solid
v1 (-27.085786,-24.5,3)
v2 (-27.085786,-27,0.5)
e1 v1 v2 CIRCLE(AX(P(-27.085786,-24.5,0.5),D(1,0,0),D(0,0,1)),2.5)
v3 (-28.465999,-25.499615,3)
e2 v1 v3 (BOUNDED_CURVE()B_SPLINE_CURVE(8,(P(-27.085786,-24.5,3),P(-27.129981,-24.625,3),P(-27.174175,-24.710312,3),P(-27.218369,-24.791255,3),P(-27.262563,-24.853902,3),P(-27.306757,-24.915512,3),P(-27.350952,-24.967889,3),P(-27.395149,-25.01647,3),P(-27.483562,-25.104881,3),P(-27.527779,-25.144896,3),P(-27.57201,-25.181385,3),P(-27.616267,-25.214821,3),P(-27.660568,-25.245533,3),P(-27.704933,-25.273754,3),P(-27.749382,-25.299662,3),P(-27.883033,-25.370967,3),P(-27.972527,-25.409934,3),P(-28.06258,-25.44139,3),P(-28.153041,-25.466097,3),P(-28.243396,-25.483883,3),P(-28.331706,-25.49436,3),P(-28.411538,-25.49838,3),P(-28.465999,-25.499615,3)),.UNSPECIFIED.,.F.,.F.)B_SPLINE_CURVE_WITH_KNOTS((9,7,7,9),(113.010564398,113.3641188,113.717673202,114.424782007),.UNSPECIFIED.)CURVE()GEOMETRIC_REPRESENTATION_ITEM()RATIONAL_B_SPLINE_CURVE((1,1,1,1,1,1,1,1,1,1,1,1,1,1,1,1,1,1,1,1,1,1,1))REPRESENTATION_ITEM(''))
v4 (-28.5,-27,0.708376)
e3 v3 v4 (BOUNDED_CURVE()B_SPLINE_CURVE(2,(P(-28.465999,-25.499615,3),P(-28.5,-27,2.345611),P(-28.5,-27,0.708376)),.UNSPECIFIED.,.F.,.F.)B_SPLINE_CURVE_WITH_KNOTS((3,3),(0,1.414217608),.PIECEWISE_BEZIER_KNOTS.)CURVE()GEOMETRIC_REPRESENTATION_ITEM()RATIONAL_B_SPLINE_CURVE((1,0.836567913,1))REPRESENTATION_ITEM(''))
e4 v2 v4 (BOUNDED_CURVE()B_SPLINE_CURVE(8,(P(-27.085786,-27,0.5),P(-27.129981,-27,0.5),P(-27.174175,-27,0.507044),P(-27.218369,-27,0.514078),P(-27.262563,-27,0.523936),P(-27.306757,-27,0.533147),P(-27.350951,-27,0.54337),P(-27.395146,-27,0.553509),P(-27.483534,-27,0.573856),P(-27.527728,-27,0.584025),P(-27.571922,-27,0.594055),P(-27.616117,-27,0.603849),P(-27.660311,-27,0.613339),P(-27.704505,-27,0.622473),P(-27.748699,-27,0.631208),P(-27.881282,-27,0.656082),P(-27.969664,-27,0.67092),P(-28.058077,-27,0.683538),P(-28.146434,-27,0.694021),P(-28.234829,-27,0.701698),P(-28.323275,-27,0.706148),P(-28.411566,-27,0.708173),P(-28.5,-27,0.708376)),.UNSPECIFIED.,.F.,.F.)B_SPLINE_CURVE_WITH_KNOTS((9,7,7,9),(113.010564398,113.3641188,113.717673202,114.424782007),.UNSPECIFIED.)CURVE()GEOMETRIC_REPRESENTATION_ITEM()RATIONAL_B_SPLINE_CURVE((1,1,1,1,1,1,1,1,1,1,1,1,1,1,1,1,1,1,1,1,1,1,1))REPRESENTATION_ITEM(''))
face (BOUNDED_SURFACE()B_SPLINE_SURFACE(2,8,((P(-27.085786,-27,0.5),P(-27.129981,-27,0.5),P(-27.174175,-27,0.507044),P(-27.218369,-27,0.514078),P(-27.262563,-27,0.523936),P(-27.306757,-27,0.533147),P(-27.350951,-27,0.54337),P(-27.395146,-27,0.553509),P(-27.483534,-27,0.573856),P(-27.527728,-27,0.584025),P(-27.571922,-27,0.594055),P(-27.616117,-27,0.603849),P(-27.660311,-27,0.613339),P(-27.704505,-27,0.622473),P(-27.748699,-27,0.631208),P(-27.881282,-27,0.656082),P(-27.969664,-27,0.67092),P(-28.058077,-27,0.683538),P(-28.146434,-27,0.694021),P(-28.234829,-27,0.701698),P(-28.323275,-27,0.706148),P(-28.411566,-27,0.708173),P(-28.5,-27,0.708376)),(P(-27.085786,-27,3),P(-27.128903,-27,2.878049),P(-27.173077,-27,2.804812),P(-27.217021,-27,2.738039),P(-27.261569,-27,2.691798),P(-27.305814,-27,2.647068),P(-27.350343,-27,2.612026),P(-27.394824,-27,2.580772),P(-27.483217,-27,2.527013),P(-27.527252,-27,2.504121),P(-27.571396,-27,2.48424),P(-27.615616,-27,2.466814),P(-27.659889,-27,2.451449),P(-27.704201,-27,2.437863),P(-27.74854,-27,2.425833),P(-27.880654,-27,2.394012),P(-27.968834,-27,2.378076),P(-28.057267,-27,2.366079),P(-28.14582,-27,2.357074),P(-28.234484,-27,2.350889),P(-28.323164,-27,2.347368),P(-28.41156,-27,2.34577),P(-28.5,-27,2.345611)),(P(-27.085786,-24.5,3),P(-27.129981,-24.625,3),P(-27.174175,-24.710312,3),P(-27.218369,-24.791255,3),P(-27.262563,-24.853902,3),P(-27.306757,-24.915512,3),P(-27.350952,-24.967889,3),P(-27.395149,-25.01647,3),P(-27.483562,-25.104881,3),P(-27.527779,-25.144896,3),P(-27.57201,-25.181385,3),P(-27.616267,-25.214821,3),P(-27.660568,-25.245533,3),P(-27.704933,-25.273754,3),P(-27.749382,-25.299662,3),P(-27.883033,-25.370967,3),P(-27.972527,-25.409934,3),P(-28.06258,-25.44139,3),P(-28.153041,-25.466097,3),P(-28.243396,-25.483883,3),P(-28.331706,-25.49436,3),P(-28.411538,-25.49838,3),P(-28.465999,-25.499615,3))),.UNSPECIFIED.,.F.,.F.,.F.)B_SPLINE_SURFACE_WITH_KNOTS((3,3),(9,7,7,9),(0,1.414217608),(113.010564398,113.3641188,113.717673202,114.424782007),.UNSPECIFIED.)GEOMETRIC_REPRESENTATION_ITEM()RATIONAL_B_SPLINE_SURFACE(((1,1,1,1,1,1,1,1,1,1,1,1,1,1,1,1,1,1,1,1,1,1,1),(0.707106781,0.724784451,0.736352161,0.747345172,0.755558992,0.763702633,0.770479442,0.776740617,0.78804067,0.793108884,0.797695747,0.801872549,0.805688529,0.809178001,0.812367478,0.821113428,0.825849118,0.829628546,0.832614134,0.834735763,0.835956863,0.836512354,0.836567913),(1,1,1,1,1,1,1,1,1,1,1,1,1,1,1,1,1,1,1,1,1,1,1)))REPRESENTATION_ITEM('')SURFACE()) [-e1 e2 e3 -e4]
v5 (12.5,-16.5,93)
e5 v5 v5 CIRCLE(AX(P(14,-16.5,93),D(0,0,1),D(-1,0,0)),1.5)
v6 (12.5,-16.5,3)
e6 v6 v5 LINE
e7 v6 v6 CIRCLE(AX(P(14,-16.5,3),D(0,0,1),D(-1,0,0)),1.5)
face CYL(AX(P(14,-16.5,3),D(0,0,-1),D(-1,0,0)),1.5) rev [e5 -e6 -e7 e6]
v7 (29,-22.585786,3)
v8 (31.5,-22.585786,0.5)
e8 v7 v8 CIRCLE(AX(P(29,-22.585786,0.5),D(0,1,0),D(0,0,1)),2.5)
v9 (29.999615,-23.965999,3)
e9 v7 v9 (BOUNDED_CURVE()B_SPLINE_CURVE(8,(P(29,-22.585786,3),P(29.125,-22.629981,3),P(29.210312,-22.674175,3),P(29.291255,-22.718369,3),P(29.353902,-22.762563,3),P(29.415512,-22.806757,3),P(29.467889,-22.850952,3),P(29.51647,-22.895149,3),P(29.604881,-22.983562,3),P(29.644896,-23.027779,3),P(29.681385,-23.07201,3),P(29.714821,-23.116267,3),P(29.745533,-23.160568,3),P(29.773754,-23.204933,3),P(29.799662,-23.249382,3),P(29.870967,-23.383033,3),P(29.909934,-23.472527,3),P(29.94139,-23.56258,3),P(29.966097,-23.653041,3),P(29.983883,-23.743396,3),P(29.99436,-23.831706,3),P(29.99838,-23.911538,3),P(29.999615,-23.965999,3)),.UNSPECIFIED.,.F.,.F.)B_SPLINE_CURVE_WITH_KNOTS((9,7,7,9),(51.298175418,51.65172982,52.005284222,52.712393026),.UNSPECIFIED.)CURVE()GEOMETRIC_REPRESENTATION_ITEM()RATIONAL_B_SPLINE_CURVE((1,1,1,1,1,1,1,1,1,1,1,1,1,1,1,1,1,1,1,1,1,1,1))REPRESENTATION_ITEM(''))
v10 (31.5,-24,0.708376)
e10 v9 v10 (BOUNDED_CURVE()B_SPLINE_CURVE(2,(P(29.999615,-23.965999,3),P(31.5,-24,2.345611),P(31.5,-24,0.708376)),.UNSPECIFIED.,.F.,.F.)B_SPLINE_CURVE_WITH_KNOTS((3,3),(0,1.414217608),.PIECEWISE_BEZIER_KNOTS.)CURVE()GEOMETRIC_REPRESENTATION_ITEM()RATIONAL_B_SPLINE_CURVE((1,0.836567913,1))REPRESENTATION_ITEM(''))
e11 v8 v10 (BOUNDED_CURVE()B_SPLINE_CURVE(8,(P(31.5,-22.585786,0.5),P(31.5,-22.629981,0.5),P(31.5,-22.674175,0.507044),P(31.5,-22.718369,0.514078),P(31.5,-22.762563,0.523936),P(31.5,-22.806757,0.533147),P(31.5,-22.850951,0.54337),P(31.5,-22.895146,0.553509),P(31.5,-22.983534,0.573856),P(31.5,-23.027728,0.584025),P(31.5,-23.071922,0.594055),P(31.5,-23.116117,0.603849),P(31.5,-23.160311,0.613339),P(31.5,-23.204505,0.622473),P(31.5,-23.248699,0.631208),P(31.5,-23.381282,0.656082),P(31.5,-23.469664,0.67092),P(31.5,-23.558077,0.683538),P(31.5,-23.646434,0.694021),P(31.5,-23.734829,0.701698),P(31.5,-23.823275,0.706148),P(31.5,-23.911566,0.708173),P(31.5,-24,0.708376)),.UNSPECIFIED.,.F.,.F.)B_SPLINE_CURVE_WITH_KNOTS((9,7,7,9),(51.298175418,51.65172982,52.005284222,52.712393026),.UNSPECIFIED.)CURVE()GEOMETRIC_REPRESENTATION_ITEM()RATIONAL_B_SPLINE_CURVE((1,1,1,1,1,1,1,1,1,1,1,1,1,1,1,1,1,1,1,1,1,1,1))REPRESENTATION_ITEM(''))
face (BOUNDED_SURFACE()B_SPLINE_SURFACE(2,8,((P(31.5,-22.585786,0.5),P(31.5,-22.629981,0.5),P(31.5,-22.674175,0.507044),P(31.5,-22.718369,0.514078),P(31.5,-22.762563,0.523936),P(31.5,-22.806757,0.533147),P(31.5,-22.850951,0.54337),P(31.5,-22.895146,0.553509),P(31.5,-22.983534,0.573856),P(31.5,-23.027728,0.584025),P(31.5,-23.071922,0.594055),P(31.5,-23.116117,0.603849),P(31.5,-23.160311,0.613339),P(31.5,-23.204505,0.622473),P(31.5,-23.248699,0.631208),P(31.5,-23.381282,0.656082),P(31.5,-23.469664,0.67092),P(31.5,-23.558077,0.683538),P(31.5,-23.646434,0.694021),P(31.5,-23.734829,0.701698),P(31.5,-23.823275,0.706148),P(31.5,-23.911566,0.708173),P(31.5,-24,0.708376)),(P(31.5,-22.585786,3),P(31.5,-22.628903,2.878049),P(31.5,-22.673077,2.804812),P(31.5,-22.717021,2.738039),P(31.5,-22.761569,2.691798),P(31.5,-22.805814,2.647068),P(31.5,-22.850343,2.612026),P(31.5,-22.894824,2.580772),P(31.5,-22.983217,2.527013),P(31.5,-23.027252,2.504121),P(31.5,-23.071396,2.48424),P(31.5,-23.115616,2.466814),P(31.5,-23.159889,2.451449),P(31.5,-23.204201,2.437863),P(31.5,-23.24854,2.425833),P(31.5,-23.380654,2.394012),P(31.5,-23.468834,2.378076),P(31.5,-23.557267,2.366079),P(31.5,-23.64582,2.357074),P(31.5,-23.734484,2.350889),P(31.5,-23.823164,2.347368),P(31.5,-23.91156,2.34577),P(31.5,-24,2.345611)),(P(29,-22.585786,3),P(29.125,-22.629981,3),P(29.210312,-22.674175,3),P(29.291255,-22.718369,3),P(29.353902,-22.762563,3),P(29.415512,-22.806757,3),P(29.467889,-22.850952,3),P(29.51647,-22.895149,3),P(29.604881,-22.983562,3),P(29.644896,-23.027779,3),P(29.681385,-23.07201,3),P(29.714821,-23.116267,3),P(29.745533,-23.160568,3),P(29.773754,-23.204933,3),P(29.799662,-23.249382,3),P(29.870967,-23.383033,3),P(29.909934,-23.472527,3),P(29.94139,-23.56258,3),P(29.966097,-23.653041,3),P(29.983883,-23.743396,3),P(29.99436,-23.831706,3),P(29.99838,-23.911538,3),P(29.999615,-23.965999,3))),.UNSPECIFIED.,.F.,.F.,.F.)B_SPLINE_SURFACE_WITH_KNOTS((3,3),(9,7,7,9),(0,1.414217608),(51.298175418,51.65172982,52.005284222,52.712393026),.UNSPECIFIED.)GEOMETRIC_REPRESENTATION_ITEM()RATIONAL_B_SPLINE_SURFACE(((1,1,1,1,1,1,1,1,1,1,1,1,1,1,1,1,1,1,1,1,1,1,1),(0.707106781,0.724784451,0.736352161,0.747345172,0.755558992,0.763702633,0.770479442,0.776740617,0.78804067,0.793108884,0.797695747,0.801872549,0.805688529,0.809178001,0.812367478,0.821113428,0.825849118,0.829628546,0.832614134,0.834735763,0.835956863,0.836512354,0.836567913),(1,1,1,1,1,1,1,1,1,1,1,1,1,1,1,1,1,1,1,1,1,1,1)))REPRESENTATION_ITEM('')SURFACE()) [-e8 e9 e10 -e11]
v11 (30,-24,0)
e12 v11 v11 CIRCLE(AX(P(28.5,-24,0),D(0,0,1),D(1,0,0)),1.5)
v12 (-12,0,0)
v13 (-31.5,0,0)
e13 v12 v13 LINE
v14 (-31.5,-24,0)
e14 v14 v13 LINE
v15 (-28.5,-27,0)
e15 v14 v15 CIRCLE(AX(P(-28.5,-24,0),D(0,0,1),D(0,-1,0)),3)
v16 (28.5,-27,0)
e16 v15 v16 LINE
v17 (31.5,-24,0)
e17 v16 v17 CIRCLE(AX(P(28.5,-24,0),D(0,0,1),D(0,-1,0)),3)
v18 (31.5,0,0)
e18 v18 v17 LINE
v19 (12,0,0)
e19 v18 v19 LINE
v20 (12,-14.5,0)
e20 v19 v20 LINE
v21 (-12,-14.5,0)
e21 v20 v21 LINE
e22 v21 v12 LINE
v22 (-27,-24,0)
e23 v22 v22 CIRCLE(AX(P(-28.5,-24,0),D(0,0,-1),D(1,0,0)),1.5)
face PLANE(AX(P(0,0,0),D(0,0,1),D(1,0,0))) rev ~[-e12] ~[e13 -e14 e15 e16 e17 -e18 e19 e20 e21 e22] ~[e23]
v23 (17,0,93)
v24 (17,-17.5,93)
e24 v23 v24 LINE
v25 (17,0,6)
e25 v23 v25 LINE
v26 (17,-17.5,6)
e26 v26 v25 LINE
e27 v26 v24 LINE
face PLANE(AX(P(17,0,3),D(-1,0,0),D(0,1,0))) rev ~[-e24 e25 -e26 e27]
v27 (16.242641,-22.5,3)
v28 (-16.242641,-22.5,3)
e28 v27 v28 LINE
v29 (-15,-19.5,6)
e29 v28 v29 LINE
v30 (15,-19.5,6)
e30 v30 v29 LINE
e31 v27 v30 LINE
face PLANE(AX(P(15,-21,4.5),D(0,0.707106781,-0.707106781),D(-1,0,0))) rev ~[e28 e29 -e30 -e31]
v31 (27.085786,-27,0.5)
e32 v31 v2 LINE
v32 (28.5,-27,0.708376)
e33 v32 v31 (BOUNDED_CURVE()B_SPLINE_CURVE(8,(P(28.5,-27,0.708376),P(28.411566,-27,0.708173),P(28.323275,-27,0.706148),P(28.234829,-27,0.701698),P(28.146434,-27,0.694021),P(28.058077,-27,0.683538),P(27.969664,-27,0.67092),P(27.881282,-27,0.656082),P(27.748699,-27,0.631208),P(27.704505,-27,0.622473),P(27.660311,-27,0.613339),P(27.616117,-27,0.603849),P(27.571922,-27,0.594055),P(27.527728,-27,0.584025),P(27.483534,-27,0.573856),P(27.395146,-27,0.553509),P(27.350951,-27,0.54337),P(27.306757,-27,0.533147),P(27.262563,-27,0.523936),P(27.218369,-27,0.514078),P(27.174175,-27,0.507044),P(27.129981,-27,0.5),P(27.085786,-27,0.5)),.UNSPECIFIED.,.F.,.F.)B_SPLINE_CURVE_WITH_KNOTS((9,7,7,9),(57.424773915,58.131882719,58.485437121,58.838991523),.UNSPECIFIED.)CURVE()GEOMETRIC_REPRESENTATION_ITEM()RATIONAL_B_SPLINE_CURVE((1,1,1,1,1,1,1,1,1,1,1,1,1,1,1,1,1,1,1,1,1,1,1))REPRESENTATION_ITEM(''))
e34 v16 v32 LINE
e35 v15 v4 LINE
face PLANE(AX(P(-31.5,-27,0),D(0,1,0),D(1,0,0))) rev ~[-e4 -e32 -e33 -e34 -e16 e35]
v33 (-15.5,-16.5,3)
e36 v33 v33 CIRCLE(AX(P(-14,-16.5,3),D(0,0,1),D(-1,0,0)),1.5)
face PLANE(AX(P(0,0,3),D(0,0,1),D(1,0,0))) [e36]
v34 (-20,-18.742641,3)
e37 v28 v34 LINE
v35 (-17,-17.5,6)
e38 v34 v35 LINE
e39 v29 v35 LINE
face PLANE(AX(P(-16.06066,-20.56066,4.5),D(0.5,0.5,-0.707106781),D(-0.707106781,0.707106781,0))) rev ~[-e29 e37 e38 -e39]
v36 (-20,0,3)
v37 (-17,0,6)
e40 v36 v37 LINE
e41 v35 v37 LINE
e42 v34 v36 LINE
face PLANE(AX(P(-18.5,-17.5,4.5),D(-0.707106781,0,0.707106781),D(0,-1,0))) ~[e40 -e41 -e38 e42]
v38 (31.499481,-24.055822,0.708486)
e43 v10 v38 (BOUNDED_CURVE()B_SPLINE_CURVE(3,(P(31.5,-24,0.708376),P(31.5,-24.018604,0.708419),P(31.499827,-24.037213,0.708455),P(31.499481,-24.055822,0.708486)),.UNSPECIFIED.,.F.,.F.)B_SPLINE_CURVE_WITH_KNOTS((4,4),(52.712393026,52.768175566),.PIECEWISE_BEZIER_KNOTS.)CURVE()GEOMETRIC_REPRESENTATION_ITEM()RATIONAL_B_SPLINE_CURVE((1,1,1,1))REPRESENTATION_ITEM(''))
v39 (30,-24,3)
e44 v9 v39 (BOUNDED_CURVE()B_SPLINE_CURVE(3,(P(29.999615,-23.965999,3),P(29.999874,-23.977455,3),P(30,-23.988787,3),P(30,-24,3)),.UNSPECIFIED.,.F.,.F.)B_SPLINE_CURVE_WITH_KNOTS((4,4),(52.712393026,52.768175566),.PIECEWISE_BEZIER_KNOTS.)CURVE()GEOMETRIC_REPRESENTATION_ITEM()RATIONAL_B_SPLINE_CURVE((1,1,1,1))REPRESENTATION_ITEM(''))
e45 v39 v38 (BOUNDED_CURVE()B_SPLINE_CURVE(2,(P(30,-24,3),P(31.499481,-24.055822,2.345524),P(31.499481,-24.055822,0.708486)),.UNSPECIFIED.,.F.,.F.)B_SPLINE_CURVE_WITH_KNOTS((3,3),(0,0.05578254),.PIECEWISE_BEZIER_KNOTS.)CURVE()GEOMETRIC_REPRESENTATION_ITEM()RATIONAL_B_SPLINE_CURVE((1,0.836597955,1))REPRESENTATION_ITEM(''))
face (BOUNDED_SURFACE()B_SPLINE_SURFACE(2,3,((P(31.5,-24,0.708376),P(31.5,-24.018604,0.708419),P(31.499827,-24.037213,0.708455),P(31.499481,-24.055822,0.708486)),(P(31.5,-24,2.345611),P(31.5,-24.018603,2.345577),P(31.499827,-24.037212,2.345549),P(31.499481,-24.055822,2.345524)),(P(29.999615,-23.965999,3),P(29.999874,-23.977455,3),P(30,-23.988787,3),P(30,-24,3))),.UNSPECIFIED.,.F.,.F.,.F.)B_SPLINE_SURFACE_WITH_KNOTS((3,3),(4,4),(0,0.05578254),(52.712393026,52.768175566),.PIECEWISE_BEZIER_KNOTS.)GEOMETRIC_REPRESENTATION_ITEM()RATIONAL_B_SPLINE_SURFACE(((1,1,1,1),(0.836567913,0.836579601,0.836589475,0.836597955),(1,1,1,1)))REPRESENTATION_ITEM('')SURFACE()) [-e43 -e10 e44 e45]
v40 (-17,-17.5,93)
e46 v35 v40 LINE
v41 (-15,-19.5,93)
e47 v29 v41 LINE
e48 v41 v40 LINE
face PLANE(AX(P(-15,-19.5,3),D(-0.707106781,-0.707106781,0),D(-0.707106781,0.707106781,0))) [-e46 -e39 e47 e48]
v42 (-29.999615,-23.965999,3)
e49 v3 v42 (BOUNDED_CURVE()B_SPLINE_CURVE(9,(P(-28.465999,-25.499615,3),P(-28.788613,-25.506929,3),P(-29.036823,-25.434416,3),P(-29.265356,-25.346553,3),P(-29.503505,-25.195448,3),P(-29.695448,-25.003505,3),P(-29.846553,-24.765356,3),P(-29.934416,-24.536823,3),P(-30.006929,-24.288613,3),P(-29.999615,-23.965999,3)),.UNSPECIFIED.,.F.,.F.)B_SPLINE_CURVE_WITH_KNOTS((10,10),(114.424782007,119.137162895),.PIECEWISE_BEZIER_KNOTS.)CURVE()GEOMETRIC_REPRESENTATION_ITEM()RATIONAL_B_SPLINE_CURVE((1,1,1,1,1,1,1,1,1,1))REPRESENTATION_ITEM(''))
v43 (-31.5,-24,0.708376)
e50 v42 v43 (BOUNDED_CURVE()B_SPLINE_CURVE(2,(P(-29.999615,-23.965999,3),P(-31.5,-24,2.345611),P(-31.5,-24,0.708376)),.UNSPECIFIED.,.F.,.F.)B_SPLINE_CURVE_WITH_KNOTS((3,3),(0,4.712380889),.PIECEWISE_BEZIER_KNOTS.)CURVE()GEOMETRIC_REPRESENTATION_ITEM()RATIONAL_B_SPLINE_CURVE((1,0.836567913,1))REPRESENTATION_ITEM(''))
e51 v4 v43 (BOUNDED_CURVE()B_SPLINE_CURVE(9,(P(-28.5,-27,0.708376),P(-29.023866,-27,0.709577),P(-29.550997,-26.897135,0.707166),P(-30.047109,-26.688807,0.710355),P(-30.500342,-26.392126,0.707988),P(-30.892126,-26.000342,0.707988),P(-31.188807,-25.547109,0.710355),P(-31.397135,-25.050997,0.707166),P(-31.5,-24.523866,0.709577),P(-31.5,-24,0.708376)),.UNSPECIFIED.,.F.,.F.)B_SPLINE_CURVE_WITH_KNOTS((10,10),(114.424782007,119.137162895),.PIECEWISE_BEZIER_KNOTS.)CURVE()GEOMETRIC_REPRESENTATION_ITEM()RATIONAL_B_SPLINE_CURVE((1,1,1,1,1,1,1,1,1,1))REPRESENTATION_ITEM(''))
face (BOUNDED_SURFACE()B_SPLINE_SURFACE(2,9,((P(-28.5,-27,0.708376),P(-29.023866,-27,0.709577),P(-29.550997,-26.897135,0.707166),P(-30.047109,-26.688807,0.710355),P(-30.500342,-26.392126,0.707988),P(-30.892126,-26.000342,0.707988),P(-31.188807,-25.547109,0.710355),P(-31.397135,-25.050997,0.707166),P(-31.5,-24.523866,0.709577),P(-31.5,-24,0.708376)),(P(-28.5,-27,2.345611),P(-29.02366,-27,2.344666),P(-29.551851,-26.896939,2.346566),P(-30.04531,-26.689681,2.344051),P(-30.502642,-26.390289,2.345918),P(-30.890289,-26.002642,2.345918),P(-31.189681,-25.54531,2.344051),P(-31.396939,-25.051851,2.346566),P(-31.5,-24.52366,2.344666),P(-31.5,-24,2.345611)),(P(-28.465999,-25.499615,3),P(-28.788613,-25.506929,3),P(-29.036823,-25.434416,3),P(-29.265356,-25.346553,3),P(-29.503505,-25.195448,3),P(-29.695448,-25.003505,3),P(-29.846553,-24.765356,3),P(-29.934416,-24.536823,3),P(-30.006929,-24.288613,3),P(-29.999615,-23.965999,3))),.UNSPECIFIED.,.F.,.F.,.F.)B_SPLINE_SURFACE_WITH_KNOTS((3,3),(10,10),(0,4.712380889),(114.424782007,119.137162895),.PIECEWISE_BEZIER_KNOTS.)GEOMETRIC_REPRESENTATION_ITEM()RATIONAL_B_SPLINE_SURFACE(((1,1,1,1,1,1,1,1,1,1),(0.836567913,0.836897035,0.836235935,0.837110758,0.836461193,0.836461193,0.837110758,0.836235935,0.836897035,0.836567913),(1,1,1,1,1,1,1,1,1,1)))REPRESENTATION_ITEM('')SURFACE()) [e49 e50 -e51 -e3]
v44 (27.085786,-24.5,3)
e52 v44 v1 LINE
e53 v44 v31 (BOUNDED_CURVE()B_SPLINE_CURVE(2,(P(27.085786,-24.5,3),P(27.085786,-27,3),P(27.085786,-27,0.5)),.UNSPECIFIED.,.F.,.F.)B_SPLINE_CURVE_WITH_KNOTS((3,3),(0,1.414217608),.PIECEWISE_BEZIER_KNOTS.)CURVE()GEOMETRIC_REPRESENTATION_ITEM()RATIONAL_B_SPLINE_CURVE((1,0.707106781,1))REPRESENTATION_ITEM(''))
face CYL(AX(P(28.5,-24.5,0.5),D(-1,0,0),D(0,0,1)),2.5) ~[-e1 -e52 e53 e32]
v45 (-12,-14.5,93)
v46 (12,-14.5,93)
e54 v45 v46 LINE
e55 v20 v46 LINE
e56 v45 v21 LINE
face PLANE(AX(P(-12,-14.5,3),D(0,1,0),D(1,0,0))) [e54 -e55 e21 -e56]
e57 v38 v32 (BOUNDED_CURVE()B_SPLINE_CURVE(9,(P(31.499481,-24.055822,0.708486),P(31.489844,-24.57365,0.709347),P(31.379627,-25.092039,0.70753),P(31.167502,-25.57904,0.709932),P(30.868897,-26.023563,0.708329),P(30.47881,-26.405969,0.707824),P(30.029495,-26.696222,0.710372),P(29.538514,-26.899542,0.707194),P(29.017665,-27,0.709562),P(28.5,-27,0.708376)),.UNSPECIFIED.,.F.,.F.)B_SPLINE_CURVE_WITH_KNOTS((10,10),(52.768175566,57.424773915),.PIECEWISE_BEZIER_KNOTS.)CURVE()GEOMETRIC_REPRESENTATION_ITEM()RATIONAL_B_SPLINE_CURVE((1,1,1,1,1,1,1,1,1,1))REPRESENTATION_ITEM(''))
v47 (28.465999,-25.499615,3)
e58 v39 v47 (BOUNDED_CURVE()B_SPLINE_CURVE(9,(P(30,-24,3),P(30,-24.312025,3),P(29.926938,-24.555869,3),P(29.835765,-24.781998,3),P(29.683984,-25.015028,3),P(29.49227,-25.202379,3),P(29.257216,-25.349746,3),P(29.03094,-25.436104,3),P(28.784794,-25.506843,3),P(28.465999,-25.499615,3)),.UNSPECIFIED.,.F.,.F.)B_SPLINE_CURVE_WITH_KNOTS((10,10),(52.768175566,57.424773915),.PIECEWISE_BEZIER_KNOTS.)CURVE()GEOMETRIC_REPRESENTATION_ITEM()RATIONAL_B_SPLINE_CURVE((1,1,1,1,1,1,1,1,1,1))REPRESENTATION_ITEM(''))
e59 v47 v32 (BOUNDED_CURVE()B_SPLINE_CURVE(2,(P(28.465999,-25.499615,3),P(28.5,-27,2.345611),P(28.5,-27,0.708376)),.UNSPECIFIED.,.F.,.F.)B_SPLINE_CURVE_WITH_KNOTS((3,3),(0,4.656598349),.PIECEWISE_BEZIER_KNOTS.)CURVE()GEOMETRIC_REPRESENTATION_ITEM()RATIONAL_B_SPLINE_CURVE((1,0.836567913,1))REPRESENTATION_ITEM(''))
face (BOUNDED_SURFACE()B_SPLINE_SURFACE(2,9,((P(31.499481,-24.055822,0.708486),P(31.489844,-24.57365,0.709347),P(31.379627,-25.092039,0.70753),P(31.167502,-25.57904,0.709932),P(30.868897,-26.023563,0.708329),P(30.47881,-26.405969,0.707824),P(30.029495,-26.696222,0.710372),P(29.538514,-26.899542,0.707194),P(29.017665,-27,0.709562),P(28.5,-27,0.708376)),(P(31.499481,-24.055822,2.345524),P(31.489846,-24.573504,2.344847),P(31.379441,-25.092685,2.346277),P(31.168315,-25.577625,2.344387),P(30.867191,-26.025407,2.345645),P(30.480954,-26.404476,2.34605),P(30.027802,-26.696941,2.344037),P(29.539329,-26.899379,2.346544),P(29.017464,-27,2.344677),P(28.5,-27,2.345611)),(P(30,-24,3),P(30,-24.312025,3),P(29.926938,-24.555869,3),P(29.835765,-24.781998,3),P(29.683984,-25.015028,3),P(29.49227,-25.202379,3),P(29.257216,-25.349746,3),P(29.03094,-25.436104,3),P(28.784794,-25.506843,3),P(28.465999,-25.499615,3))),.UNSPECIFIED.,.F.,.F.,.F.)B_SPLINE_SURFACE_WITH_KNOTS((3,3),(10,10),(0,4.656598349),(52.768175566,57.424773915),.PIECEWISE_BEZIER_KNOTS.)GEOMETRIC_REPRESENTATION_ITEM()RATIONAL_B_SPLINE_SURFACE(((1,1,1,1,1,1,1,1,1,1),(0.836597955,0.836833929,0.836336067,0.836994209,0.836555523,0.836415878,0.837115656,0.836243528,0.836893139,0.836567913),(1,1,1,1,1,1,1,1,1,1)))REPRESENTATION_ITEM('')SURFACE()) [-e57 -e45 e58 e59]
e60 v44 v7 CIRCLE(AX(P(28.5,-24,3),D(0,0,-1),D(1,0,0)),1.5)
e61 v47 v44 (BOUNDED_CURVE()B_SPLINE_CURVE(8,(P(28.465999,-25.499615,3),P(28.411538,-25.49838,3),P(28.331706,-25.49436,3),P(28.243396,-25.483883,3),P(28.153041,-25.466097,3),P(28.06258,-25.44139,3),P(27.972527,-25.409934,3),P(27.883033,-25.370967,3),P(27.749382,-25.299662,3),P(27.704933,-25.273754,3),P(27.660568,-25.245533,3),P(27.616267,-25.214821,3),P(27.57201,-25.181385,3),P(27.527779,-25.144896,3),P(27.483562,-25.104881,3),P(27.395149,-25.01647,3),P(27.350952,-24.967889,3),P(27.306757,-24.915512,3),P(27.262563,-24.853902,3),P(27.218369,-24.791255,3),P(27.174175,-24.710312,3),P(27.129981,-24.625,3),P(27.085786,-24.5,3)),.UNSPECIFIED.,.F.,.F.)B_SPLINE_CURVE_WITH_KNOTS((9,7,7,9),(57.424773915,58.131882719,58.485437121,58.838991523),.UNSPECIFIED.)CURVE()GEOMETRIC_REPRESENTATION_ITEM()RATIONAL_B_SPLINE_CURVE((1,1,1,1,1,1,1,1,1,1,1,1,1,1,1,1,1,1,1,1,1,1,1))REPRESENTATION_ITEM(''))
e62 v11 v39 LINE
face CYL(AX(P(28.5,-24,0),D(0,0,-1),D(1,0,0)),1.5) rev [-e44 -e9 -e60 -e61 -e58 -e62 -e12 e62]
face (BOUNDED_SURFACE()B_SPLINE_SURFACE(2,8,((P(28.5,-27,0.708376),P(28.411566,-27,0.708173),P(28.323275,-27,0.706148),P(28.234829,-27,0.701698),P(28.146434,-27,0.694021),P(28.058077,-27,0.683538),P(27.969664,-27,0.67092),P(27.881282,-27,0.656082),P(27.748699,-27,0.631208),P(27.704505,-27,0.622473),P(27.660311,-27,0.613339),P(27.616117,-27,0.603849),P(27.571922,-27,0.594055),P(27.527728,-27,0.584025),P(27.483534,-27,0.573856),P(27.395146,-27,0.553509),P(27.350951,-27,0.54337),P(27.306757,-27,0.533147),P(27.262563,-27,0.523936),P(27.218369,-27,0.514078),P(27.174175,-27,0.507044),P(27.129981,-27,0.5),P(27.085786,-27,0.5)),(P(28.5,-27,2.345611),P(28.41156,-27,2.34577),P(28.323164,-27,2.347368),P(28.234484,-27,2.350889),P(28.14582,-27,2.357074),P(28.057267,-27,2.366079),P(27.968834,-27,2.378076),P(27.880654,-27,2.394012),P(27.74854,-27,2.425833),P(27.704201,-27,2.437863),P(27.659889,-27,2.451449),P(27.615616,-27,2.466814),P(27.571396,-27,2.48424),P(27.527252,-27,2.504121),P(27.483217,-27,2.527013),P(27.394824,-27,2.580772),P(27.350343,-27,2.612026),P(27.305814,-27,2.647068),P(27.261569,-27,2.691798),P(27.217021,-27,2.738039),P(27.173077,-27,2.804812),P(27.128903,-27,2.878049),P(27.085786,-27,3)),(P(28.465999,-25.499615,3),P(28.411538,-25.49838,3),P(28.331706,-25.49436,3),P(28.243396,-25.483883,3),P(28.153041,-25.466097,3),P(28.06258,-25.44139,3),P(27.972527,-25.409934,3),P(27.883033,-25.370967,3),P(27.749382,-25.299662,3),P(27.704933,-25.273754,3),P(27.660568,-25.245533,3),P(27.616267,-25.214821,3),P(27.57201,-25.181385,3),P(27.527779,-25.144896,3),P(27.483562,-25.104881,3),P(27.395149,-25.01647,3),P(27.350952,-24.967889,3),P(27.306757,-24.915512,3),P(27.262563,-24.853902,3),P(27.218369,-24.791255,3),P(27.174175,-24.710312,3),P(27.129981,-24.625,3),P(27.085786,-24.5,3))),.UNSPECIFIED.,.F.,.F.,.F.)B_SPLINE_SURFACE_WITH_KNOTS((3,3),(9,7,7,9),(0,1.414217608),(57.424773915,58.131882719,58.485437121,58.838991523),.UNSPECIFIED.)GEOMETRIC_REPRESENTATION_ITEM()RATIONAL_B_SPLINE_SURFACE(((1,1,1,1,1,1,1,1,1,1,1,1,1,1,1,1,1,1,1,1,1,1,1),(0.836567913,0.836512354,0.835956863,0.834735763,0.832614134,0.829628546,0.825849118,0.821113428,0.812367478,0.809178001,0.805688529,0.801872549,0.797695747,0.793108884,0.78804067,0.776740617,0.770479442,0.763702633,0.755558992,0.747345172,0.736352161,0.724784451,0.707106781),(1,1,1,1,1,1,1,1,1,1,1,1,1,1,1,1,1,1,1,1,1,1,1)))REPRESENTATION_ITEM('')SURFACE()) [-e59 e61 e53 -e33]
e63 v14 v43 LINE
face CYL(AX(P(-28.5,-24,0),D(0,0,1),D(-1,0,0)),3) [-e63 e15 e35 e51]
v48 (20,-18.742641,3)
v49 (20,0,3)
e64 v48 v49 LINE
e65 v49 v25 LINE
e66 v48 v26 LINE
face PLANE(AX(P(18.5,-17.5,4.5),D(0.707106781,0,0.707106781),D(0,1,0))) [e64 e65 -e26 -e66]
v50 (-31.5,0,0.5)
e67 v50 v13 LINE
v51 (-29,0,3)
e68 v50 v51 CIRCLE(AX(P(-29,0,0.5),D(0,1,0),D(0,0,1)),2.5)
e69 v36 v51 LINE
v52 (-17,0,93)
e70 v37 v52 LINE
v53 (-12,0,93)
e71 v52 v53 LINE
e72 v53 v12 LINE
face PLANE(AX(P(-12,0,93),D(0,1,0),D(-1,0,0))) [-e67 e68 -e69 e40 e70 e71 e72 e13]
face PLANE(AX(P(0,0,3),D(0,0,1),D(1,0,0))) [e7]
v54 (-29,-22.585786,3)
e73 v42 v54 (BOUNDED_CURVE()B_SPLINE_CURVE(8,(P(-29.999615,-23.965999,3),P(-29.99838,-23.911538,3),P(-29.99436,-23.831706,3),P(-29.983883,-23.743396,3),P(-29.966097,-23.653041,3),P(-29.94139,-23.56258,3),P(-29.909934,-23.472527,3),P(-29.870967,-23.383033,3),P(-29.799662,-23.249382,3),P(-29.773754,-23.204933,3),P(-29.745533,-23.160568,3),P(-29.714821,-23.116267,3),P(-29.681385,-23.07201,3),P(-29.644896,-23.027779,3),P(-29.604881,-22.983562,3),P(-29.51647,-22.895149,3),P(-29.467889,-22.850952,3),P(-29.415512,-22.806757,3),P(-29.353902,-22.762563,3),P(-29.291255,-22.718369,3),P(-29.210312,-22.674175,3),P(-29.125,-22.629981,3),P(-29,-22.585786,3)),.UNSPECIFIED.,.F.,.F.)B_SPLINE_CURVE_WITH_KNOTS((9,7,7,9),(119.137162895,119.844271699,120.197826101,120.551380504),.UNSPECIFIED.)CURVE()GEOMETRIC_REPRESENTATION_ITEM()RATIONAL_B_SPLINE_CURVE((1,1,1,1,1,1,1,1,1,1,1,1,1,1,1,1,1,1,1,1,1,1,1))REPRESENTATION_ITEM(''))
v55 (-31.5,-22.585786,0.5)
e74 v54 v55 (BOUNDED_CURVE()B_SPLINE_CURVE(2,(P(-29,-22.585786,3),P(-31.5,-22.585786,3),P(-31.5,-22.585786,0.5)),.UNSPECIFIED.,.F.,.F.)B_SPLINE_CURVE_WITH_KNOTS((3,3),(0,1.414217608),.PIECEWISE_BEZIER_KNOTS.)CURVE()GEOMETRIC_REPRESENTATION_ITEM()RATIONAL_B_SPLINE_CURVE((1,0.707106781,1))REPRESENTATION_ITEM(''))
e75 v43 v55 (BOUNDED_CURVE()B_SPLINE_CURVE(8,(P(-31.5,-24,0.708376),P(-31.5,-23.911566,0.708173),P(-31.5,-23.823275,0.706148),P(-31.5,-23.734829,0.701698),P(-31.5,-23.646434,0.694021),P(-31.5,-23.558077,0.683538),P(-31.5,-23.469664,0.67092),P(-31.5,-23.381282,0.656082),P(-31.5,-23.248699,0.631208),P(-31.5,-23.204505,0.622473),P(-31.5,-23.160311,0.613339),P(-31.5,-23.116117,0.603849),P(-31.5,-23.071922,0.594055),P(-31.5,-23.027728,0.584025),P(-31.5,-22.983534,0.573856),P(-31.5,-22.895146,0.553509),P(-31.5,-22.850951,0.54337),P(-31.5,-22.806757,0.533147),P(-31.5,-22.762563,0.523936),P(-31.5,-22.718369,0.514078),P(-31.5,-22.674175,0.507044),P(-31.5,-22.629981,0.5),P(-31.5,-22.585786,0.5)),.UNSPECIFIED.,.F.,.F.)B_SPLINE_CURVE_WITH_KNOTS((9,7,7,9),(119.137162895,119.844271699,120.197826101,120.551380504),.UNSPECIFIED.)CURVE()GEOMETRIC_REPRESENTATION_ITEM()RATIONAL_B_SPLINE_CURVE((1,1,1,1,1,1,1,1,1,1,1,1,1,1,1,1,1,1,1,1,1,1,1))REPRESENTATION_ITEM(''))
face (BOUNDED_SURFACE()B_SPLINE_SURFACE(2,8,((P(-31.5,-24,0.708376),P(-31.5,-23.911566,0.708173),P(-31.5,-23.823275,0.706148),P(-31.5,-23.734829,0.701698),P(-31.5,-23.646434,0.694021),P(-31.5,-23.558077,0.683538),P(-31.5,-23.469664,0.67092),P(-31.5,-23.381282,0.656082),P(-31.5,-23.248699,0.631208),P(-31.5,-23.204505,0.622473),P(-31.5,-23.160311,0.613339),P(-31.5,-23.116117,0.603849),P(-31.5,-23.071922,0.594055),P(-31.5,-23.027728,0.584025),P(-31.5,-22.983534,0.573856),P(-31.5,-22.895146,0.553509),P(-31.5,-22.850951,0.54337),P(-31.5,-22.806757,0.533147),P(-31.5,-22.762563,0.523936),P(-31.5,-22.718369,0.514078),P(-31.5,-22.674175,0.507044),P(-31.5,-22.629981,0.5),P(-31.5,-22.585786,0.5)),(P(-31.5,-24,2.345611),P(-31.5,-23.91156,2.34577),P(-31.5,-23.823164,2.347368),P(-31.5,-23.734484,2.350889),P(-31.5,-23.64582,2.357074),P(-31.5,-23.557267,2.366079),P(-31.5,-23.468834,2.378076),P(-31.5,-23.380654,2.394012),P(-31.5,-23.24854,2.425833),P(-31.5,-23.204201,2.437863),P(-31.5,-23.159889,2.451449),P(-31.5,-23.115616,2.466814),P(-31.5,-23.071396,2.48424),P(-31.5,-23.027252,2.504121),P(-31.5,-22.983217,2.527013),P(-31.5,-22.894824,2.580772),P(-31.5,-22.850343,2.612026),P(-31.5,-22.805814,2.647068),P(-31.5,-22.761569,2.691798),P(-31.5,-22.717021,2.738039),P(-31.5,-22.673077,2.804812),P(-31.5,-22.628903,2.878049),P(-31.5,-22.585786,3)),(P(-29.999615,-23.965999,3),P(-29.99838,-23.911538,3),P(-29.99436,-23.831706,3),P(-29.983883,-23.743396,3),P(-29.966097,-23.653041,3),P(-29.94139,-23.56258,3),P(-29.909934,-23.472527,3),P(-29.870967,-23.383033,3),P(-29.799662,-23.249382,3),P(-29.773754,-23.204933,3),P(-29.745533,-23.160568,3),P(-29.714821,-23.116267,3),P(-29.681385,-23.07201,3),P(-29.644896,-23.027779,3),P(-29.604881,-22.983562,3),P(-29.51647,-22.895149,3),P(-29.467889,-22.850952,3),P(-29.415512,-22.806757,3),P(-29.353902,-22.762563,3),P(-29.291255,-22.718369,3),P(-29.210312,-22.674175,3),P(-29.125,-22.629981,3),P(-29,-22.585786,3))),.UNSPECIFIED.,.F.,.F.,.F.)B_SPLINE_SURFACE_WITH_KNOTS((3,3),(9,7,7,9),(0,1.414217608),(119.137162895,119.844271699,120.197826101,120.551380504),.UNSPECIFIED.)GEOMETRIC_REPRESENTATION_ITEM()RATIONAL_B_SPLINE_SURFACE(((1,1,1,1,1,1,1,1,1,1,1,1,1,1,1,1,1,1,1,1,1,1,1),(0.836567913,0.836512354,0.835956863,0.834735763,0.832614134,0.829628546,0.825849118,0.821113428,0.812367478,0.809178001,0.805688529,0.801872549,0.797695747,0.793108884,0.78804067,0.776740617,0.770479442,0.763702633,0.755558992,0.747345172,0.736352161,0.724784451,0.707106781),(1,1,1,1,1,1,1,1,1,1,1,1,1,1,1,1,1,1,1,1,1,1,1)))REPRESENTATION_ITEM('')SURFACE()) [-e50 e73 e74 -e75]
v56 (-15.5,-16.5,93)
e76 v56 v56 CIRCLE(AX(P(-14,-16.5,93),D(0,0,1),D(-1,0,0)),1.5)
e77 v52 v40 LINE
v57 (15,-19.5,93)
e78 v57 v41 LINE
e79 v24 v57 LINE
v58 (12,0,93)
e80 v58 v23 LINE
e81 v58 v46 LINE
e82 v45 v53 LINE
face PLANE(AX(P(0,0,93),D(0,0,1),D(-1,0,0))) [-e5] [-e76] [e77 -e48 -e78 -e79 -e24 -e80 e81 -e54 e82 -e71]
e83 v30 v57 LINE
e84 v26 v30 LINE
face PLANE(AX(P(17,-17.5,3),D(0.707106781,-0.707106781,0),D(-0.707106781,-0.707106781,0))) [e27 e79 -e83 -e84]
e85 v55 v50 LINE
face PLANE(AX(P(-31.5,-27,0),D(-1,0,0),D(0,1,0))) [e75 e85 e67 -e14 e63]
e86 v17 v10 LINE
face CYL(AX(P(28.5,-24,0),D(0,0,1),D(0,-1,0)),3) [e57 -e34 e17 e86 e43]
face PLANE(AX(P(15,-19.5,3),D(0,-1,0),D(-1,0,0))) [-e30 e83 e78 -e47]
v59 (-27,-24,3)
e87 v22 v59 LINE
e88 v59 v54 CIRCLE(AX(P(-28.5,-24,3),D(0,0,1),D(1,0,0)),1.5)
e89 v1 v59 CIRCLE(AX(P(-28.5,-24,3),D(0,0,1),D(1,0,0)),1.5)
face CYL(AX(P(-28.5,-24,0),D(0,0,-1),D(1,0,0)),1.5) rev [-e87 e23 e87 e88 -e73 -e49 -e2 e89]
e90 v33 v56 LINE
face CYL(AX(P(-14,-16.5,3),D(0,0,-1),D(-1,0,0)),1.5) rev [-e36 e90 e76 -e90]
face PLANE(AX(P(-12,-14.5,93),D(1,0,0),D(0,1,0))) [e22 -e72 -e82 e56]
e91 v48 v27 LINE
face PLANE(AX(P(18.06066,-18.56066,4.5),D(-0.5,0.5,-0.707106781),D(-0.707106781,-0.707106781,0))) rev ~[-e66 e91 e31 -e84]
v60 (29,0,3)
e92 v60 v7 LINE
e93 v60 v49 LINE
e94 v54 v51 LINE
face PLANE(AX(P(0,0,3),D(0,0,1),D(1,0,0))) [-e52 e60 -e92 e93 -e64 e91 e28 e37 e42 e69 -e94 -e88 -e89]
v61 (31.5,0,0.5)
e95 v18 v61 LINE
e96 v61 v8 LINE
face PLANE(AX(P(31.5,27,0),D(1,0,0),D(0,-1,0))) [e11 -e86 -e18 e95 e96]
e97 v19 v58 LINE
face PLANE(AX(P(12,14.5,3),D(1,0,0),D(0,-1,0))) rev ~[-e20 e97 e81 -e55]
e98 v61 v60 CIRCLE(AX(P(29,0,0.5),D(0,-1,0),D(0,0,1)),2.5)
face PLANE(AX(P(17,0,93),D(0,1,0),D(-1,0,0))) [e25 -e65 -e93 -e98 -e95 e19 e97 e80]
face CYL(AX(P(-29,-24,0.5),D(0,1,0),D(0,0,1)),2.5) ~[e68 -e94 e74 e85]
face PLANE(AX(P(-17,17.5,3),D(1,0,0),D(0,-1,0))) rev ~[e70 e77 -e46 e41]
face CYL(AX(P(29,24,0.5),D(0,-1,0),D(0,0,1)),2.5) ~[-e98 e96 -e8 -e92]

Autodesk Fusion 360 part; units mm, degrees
sketch "Sketch1" plane through (0, 0, 0) normal (0, 0, 1) x (1, 0, 0)
  line L0 (-28.5, -24) -> (-28.5, 24)
  line L1 (-28.5, 24) -> (28.5, 24)
  line L2 (28.5, 24) -> (28.5, -24)
  line L3 (-28.5, -24) -> (28.5, -24)
  circle A0 centre (-28.5, 24) radius 1.5
  circle A1 centre (28.5, 24) radius 1.5
  circle A2 centre (-28.5, -24) radius 1.5
  circle A3 centre (28.5, -24) radius 1.5
  line L4 (0, 24) -> (0, -24)
  line L5 (0, 0) -> (-28.5, 0)
  line L6 (-31.5, -27) -> (31.5, -27)
  line L7 (31.5, 27) -> (31.5, -27)
  line L8 (-31.5, 27) -> (31.5, 27)
  line L9 (-31.5, -27) -> (-31.5, 27)
  dimension "d1" = 3
  dimension "d2" = 3
  dimension "d3" = 3
  dimension "d4" = 3
  dimension "d5" = -3
extrude "Extrude1" add sketch "Sketch1" along normal blind 3 contours L0 L3 A2 L4 L5 | L0 L1 A0 L4 L5 | L1 L2 L3 A1 A3 L4 | L6 L7 L8 L9
sketch "Sketch2" plane through (0, 0, 3) normal (0, 0, 1) x (-1, 0, 0)
  circle A0 centre (-28.5, -24) radius 1.5
  circle A1 centre (28.5, 24) radius 1.5
  circle A2 centre (28.5, -24) radius 1.5
  circle A3 centre (-28.5, 24) radius 1.5
  line L0 (31.5, 27) -> (-31.5, 27)
  line L1 (-31.5, 27) -> (-31.5, -27)
  line L2 (-31.5, -27) -> (31.5, -27)
  line L3 (31.5, -27) -> (31.5, 27)
  line L4 (-15, -19.5) -> (15, -19.5)
  line L5 (12, -14.5) -> (-12, -14.5)
  circle A4 centre (14, -16.5) radius 1.5
  line L6 (15, -19.5) -> (17, -17.5)
  line L7 (17, -17.5) -> (17, 0)
  line L8 (17, 0) -> (12, 0)
  line L9 (12, 0) -> (12, -14.5)
  line L10 (-12, -14.5) -> (-12, 0)
  line L11 (-12, 0) -> (-17, 0)
  line L12 (-17, 0) -> (-17, -17.5)
  line L13 (-17, -17.5) -> (-15, -19.5)
  circle A5 centre (-14, -16.5) radius 1.5
  line L14 (12, 0) -> (-12, 0)
  line L15 (0, 0) -> (0, -7.25)
  line L16 (12, 0) -> (12, 14.5)
  line L17 (17, 17.5) -> (17, 0)
  line L18 (17, 0) -> (12, 0)
  line L19 (-15, 19.5) -> (15, 19.5)
  line L20 (12, 14.5) -> (-12, 14.5)
  line L21 (-12, 14.5) -> (-12, 0)
  circle A6 centre (14, 16.5) radius 1.5
  circle A7 centre (-14, 16.5) radius 1.5
  line L22 (-17, 17.5) -> (-15, 19.5)
  line L23 (-17, 0) -> (-17, 17.5)
  line L24 (-12, 0) -> (-17, 0)
  line L25 (15, 19.5) -> (17, 17.5)
extrude "Extrude2" add sketch "Sketch2" along normal blind 90 contours L4 L5 L6 L7 L8 L9 L10 L11 L12 L13 L18 L24 | L8 L11 L16 L17 L18 L19 L20 L21 L22 L23 L24 L25
fillet "Fillet1" radius 3 4 edges at (-31.5, -27, 1.5) (31.5, -27, 1.5) (31.5, 27, 1.5) (-31.5, 27, 1.5)
fillet "Fillet2" radius 2.5 8 edges at (30.6213, 26.1213, 3) (0, 27, 3) (-30.6213, 26.1213, 3) (-31.5, 0, 3) (-30.6213, -26.1213, 3) (0, -27, 3) (30.6213, -26.1213, 3) (31.5, 0, 3)
chamfer "Chamfer1" distance 3 angle 45 8 edges at (0, 19.5, 3) (17, 0, 3) (16, 18.5, 3) (-16, 18.5, 3) (-16, -18.5, 3) (-17, 0, 3) (0, -19.5, 3) (16, -18.5, 3)
sketch "Sketch3" plane through (0, 19.5, 0) normal (0, 1, 0) x (-1, 0, 0)
  line L0 (15, 6) -> (15, 93)
  line L1 (15, 93) -> (-15, 93)
  line L2 (-15, 93) -> (-15, 6)
  line L3 (-15, 49.5) -> (15, 49.5)
  circle A0 centre (0, 49.5) radius 9.5
  line L4 (-15, 6) -> (15, 6)
  dimension "d12" = 19
extrude "Extrude3" cut sketch "Sketch3" against normal blind 6 contours L3 A0 | L3 A0
sketch "Sketch4" plane through (0, 0, 93) normal (0, 0, 1) x (-1, 0, 0)
  circle A0 centre (14, -16.5) radius 1.5
  circle A1 centre (14, 16.5) radius 1.5
  circle A2 centre (-14, -16.5) radius 1.5
  line L0 (12, 14.5) -> (12, -14.5)
  line L1 (12, -14.5) -> (-12, -14.5)
  line L2 (-12, -14.5) -> (-12, 14.5)
  line L3 (-12, 14.5) -> (12, 14.5)
  circle A3 centre (-14, 16.5) radius 1.5
  line L4 (-17, 17.5) -> (-17, -17.5)
  line L5 (-17, -17.5) -> (-15, -19.5)
  line L6 (-15, -19.5) -> (15, -19.5)
  line L7 (15, -19.5) -> (17, -17.5)
  line L8 (17, -17.5) -> (17, 17.5)
  line L9 (17, 17.5) -> (15, 19.5)
  line L10 (15, 19.5) -> (-15, 19.5)
  line L11 (-15, 19.5) -> (-17, 17.5)
  line L12 (-50, 0) -> (50, 0)
  line L13 (50, 0) -> (33.9234, 54.6299)
  line L14 (33.9234, 54.6299) -> (-46.2592, 44.9375)
  line L15 (-46.2592, 44.9375) -> (-50, 0)
  line L16 (12, 14.5) -> (-12, 14.5)
  line L17 (-12, 14.5) -> (-12, -14.5)
  line L18 (-12, -14.5) -> (12, -14.5)
  line L19 (12, -14.5) -> (12, 14.5)
  line L20 (-50, 0) -> (-64.2202, -68.1179)
  line L21 (-64.2202, -68.1179) -> (43.9074, -45.7813)
  line L22 (43.9074, -45.7813) -> (50, 0)
extrude "Extrude4" cut sketch "Sketch4" against normal blind 500 contours A0 | A2 | L0 L2 L3 L12 L16 L17 L19 | L0 L1 L2 L4 L5 L6 L7 L8 L12 L17 L18 L19 | L0 L1 L2 L12 L17 L18 L19 | L4 L5 L6 L7 L8 L12 L20 L21 L22
